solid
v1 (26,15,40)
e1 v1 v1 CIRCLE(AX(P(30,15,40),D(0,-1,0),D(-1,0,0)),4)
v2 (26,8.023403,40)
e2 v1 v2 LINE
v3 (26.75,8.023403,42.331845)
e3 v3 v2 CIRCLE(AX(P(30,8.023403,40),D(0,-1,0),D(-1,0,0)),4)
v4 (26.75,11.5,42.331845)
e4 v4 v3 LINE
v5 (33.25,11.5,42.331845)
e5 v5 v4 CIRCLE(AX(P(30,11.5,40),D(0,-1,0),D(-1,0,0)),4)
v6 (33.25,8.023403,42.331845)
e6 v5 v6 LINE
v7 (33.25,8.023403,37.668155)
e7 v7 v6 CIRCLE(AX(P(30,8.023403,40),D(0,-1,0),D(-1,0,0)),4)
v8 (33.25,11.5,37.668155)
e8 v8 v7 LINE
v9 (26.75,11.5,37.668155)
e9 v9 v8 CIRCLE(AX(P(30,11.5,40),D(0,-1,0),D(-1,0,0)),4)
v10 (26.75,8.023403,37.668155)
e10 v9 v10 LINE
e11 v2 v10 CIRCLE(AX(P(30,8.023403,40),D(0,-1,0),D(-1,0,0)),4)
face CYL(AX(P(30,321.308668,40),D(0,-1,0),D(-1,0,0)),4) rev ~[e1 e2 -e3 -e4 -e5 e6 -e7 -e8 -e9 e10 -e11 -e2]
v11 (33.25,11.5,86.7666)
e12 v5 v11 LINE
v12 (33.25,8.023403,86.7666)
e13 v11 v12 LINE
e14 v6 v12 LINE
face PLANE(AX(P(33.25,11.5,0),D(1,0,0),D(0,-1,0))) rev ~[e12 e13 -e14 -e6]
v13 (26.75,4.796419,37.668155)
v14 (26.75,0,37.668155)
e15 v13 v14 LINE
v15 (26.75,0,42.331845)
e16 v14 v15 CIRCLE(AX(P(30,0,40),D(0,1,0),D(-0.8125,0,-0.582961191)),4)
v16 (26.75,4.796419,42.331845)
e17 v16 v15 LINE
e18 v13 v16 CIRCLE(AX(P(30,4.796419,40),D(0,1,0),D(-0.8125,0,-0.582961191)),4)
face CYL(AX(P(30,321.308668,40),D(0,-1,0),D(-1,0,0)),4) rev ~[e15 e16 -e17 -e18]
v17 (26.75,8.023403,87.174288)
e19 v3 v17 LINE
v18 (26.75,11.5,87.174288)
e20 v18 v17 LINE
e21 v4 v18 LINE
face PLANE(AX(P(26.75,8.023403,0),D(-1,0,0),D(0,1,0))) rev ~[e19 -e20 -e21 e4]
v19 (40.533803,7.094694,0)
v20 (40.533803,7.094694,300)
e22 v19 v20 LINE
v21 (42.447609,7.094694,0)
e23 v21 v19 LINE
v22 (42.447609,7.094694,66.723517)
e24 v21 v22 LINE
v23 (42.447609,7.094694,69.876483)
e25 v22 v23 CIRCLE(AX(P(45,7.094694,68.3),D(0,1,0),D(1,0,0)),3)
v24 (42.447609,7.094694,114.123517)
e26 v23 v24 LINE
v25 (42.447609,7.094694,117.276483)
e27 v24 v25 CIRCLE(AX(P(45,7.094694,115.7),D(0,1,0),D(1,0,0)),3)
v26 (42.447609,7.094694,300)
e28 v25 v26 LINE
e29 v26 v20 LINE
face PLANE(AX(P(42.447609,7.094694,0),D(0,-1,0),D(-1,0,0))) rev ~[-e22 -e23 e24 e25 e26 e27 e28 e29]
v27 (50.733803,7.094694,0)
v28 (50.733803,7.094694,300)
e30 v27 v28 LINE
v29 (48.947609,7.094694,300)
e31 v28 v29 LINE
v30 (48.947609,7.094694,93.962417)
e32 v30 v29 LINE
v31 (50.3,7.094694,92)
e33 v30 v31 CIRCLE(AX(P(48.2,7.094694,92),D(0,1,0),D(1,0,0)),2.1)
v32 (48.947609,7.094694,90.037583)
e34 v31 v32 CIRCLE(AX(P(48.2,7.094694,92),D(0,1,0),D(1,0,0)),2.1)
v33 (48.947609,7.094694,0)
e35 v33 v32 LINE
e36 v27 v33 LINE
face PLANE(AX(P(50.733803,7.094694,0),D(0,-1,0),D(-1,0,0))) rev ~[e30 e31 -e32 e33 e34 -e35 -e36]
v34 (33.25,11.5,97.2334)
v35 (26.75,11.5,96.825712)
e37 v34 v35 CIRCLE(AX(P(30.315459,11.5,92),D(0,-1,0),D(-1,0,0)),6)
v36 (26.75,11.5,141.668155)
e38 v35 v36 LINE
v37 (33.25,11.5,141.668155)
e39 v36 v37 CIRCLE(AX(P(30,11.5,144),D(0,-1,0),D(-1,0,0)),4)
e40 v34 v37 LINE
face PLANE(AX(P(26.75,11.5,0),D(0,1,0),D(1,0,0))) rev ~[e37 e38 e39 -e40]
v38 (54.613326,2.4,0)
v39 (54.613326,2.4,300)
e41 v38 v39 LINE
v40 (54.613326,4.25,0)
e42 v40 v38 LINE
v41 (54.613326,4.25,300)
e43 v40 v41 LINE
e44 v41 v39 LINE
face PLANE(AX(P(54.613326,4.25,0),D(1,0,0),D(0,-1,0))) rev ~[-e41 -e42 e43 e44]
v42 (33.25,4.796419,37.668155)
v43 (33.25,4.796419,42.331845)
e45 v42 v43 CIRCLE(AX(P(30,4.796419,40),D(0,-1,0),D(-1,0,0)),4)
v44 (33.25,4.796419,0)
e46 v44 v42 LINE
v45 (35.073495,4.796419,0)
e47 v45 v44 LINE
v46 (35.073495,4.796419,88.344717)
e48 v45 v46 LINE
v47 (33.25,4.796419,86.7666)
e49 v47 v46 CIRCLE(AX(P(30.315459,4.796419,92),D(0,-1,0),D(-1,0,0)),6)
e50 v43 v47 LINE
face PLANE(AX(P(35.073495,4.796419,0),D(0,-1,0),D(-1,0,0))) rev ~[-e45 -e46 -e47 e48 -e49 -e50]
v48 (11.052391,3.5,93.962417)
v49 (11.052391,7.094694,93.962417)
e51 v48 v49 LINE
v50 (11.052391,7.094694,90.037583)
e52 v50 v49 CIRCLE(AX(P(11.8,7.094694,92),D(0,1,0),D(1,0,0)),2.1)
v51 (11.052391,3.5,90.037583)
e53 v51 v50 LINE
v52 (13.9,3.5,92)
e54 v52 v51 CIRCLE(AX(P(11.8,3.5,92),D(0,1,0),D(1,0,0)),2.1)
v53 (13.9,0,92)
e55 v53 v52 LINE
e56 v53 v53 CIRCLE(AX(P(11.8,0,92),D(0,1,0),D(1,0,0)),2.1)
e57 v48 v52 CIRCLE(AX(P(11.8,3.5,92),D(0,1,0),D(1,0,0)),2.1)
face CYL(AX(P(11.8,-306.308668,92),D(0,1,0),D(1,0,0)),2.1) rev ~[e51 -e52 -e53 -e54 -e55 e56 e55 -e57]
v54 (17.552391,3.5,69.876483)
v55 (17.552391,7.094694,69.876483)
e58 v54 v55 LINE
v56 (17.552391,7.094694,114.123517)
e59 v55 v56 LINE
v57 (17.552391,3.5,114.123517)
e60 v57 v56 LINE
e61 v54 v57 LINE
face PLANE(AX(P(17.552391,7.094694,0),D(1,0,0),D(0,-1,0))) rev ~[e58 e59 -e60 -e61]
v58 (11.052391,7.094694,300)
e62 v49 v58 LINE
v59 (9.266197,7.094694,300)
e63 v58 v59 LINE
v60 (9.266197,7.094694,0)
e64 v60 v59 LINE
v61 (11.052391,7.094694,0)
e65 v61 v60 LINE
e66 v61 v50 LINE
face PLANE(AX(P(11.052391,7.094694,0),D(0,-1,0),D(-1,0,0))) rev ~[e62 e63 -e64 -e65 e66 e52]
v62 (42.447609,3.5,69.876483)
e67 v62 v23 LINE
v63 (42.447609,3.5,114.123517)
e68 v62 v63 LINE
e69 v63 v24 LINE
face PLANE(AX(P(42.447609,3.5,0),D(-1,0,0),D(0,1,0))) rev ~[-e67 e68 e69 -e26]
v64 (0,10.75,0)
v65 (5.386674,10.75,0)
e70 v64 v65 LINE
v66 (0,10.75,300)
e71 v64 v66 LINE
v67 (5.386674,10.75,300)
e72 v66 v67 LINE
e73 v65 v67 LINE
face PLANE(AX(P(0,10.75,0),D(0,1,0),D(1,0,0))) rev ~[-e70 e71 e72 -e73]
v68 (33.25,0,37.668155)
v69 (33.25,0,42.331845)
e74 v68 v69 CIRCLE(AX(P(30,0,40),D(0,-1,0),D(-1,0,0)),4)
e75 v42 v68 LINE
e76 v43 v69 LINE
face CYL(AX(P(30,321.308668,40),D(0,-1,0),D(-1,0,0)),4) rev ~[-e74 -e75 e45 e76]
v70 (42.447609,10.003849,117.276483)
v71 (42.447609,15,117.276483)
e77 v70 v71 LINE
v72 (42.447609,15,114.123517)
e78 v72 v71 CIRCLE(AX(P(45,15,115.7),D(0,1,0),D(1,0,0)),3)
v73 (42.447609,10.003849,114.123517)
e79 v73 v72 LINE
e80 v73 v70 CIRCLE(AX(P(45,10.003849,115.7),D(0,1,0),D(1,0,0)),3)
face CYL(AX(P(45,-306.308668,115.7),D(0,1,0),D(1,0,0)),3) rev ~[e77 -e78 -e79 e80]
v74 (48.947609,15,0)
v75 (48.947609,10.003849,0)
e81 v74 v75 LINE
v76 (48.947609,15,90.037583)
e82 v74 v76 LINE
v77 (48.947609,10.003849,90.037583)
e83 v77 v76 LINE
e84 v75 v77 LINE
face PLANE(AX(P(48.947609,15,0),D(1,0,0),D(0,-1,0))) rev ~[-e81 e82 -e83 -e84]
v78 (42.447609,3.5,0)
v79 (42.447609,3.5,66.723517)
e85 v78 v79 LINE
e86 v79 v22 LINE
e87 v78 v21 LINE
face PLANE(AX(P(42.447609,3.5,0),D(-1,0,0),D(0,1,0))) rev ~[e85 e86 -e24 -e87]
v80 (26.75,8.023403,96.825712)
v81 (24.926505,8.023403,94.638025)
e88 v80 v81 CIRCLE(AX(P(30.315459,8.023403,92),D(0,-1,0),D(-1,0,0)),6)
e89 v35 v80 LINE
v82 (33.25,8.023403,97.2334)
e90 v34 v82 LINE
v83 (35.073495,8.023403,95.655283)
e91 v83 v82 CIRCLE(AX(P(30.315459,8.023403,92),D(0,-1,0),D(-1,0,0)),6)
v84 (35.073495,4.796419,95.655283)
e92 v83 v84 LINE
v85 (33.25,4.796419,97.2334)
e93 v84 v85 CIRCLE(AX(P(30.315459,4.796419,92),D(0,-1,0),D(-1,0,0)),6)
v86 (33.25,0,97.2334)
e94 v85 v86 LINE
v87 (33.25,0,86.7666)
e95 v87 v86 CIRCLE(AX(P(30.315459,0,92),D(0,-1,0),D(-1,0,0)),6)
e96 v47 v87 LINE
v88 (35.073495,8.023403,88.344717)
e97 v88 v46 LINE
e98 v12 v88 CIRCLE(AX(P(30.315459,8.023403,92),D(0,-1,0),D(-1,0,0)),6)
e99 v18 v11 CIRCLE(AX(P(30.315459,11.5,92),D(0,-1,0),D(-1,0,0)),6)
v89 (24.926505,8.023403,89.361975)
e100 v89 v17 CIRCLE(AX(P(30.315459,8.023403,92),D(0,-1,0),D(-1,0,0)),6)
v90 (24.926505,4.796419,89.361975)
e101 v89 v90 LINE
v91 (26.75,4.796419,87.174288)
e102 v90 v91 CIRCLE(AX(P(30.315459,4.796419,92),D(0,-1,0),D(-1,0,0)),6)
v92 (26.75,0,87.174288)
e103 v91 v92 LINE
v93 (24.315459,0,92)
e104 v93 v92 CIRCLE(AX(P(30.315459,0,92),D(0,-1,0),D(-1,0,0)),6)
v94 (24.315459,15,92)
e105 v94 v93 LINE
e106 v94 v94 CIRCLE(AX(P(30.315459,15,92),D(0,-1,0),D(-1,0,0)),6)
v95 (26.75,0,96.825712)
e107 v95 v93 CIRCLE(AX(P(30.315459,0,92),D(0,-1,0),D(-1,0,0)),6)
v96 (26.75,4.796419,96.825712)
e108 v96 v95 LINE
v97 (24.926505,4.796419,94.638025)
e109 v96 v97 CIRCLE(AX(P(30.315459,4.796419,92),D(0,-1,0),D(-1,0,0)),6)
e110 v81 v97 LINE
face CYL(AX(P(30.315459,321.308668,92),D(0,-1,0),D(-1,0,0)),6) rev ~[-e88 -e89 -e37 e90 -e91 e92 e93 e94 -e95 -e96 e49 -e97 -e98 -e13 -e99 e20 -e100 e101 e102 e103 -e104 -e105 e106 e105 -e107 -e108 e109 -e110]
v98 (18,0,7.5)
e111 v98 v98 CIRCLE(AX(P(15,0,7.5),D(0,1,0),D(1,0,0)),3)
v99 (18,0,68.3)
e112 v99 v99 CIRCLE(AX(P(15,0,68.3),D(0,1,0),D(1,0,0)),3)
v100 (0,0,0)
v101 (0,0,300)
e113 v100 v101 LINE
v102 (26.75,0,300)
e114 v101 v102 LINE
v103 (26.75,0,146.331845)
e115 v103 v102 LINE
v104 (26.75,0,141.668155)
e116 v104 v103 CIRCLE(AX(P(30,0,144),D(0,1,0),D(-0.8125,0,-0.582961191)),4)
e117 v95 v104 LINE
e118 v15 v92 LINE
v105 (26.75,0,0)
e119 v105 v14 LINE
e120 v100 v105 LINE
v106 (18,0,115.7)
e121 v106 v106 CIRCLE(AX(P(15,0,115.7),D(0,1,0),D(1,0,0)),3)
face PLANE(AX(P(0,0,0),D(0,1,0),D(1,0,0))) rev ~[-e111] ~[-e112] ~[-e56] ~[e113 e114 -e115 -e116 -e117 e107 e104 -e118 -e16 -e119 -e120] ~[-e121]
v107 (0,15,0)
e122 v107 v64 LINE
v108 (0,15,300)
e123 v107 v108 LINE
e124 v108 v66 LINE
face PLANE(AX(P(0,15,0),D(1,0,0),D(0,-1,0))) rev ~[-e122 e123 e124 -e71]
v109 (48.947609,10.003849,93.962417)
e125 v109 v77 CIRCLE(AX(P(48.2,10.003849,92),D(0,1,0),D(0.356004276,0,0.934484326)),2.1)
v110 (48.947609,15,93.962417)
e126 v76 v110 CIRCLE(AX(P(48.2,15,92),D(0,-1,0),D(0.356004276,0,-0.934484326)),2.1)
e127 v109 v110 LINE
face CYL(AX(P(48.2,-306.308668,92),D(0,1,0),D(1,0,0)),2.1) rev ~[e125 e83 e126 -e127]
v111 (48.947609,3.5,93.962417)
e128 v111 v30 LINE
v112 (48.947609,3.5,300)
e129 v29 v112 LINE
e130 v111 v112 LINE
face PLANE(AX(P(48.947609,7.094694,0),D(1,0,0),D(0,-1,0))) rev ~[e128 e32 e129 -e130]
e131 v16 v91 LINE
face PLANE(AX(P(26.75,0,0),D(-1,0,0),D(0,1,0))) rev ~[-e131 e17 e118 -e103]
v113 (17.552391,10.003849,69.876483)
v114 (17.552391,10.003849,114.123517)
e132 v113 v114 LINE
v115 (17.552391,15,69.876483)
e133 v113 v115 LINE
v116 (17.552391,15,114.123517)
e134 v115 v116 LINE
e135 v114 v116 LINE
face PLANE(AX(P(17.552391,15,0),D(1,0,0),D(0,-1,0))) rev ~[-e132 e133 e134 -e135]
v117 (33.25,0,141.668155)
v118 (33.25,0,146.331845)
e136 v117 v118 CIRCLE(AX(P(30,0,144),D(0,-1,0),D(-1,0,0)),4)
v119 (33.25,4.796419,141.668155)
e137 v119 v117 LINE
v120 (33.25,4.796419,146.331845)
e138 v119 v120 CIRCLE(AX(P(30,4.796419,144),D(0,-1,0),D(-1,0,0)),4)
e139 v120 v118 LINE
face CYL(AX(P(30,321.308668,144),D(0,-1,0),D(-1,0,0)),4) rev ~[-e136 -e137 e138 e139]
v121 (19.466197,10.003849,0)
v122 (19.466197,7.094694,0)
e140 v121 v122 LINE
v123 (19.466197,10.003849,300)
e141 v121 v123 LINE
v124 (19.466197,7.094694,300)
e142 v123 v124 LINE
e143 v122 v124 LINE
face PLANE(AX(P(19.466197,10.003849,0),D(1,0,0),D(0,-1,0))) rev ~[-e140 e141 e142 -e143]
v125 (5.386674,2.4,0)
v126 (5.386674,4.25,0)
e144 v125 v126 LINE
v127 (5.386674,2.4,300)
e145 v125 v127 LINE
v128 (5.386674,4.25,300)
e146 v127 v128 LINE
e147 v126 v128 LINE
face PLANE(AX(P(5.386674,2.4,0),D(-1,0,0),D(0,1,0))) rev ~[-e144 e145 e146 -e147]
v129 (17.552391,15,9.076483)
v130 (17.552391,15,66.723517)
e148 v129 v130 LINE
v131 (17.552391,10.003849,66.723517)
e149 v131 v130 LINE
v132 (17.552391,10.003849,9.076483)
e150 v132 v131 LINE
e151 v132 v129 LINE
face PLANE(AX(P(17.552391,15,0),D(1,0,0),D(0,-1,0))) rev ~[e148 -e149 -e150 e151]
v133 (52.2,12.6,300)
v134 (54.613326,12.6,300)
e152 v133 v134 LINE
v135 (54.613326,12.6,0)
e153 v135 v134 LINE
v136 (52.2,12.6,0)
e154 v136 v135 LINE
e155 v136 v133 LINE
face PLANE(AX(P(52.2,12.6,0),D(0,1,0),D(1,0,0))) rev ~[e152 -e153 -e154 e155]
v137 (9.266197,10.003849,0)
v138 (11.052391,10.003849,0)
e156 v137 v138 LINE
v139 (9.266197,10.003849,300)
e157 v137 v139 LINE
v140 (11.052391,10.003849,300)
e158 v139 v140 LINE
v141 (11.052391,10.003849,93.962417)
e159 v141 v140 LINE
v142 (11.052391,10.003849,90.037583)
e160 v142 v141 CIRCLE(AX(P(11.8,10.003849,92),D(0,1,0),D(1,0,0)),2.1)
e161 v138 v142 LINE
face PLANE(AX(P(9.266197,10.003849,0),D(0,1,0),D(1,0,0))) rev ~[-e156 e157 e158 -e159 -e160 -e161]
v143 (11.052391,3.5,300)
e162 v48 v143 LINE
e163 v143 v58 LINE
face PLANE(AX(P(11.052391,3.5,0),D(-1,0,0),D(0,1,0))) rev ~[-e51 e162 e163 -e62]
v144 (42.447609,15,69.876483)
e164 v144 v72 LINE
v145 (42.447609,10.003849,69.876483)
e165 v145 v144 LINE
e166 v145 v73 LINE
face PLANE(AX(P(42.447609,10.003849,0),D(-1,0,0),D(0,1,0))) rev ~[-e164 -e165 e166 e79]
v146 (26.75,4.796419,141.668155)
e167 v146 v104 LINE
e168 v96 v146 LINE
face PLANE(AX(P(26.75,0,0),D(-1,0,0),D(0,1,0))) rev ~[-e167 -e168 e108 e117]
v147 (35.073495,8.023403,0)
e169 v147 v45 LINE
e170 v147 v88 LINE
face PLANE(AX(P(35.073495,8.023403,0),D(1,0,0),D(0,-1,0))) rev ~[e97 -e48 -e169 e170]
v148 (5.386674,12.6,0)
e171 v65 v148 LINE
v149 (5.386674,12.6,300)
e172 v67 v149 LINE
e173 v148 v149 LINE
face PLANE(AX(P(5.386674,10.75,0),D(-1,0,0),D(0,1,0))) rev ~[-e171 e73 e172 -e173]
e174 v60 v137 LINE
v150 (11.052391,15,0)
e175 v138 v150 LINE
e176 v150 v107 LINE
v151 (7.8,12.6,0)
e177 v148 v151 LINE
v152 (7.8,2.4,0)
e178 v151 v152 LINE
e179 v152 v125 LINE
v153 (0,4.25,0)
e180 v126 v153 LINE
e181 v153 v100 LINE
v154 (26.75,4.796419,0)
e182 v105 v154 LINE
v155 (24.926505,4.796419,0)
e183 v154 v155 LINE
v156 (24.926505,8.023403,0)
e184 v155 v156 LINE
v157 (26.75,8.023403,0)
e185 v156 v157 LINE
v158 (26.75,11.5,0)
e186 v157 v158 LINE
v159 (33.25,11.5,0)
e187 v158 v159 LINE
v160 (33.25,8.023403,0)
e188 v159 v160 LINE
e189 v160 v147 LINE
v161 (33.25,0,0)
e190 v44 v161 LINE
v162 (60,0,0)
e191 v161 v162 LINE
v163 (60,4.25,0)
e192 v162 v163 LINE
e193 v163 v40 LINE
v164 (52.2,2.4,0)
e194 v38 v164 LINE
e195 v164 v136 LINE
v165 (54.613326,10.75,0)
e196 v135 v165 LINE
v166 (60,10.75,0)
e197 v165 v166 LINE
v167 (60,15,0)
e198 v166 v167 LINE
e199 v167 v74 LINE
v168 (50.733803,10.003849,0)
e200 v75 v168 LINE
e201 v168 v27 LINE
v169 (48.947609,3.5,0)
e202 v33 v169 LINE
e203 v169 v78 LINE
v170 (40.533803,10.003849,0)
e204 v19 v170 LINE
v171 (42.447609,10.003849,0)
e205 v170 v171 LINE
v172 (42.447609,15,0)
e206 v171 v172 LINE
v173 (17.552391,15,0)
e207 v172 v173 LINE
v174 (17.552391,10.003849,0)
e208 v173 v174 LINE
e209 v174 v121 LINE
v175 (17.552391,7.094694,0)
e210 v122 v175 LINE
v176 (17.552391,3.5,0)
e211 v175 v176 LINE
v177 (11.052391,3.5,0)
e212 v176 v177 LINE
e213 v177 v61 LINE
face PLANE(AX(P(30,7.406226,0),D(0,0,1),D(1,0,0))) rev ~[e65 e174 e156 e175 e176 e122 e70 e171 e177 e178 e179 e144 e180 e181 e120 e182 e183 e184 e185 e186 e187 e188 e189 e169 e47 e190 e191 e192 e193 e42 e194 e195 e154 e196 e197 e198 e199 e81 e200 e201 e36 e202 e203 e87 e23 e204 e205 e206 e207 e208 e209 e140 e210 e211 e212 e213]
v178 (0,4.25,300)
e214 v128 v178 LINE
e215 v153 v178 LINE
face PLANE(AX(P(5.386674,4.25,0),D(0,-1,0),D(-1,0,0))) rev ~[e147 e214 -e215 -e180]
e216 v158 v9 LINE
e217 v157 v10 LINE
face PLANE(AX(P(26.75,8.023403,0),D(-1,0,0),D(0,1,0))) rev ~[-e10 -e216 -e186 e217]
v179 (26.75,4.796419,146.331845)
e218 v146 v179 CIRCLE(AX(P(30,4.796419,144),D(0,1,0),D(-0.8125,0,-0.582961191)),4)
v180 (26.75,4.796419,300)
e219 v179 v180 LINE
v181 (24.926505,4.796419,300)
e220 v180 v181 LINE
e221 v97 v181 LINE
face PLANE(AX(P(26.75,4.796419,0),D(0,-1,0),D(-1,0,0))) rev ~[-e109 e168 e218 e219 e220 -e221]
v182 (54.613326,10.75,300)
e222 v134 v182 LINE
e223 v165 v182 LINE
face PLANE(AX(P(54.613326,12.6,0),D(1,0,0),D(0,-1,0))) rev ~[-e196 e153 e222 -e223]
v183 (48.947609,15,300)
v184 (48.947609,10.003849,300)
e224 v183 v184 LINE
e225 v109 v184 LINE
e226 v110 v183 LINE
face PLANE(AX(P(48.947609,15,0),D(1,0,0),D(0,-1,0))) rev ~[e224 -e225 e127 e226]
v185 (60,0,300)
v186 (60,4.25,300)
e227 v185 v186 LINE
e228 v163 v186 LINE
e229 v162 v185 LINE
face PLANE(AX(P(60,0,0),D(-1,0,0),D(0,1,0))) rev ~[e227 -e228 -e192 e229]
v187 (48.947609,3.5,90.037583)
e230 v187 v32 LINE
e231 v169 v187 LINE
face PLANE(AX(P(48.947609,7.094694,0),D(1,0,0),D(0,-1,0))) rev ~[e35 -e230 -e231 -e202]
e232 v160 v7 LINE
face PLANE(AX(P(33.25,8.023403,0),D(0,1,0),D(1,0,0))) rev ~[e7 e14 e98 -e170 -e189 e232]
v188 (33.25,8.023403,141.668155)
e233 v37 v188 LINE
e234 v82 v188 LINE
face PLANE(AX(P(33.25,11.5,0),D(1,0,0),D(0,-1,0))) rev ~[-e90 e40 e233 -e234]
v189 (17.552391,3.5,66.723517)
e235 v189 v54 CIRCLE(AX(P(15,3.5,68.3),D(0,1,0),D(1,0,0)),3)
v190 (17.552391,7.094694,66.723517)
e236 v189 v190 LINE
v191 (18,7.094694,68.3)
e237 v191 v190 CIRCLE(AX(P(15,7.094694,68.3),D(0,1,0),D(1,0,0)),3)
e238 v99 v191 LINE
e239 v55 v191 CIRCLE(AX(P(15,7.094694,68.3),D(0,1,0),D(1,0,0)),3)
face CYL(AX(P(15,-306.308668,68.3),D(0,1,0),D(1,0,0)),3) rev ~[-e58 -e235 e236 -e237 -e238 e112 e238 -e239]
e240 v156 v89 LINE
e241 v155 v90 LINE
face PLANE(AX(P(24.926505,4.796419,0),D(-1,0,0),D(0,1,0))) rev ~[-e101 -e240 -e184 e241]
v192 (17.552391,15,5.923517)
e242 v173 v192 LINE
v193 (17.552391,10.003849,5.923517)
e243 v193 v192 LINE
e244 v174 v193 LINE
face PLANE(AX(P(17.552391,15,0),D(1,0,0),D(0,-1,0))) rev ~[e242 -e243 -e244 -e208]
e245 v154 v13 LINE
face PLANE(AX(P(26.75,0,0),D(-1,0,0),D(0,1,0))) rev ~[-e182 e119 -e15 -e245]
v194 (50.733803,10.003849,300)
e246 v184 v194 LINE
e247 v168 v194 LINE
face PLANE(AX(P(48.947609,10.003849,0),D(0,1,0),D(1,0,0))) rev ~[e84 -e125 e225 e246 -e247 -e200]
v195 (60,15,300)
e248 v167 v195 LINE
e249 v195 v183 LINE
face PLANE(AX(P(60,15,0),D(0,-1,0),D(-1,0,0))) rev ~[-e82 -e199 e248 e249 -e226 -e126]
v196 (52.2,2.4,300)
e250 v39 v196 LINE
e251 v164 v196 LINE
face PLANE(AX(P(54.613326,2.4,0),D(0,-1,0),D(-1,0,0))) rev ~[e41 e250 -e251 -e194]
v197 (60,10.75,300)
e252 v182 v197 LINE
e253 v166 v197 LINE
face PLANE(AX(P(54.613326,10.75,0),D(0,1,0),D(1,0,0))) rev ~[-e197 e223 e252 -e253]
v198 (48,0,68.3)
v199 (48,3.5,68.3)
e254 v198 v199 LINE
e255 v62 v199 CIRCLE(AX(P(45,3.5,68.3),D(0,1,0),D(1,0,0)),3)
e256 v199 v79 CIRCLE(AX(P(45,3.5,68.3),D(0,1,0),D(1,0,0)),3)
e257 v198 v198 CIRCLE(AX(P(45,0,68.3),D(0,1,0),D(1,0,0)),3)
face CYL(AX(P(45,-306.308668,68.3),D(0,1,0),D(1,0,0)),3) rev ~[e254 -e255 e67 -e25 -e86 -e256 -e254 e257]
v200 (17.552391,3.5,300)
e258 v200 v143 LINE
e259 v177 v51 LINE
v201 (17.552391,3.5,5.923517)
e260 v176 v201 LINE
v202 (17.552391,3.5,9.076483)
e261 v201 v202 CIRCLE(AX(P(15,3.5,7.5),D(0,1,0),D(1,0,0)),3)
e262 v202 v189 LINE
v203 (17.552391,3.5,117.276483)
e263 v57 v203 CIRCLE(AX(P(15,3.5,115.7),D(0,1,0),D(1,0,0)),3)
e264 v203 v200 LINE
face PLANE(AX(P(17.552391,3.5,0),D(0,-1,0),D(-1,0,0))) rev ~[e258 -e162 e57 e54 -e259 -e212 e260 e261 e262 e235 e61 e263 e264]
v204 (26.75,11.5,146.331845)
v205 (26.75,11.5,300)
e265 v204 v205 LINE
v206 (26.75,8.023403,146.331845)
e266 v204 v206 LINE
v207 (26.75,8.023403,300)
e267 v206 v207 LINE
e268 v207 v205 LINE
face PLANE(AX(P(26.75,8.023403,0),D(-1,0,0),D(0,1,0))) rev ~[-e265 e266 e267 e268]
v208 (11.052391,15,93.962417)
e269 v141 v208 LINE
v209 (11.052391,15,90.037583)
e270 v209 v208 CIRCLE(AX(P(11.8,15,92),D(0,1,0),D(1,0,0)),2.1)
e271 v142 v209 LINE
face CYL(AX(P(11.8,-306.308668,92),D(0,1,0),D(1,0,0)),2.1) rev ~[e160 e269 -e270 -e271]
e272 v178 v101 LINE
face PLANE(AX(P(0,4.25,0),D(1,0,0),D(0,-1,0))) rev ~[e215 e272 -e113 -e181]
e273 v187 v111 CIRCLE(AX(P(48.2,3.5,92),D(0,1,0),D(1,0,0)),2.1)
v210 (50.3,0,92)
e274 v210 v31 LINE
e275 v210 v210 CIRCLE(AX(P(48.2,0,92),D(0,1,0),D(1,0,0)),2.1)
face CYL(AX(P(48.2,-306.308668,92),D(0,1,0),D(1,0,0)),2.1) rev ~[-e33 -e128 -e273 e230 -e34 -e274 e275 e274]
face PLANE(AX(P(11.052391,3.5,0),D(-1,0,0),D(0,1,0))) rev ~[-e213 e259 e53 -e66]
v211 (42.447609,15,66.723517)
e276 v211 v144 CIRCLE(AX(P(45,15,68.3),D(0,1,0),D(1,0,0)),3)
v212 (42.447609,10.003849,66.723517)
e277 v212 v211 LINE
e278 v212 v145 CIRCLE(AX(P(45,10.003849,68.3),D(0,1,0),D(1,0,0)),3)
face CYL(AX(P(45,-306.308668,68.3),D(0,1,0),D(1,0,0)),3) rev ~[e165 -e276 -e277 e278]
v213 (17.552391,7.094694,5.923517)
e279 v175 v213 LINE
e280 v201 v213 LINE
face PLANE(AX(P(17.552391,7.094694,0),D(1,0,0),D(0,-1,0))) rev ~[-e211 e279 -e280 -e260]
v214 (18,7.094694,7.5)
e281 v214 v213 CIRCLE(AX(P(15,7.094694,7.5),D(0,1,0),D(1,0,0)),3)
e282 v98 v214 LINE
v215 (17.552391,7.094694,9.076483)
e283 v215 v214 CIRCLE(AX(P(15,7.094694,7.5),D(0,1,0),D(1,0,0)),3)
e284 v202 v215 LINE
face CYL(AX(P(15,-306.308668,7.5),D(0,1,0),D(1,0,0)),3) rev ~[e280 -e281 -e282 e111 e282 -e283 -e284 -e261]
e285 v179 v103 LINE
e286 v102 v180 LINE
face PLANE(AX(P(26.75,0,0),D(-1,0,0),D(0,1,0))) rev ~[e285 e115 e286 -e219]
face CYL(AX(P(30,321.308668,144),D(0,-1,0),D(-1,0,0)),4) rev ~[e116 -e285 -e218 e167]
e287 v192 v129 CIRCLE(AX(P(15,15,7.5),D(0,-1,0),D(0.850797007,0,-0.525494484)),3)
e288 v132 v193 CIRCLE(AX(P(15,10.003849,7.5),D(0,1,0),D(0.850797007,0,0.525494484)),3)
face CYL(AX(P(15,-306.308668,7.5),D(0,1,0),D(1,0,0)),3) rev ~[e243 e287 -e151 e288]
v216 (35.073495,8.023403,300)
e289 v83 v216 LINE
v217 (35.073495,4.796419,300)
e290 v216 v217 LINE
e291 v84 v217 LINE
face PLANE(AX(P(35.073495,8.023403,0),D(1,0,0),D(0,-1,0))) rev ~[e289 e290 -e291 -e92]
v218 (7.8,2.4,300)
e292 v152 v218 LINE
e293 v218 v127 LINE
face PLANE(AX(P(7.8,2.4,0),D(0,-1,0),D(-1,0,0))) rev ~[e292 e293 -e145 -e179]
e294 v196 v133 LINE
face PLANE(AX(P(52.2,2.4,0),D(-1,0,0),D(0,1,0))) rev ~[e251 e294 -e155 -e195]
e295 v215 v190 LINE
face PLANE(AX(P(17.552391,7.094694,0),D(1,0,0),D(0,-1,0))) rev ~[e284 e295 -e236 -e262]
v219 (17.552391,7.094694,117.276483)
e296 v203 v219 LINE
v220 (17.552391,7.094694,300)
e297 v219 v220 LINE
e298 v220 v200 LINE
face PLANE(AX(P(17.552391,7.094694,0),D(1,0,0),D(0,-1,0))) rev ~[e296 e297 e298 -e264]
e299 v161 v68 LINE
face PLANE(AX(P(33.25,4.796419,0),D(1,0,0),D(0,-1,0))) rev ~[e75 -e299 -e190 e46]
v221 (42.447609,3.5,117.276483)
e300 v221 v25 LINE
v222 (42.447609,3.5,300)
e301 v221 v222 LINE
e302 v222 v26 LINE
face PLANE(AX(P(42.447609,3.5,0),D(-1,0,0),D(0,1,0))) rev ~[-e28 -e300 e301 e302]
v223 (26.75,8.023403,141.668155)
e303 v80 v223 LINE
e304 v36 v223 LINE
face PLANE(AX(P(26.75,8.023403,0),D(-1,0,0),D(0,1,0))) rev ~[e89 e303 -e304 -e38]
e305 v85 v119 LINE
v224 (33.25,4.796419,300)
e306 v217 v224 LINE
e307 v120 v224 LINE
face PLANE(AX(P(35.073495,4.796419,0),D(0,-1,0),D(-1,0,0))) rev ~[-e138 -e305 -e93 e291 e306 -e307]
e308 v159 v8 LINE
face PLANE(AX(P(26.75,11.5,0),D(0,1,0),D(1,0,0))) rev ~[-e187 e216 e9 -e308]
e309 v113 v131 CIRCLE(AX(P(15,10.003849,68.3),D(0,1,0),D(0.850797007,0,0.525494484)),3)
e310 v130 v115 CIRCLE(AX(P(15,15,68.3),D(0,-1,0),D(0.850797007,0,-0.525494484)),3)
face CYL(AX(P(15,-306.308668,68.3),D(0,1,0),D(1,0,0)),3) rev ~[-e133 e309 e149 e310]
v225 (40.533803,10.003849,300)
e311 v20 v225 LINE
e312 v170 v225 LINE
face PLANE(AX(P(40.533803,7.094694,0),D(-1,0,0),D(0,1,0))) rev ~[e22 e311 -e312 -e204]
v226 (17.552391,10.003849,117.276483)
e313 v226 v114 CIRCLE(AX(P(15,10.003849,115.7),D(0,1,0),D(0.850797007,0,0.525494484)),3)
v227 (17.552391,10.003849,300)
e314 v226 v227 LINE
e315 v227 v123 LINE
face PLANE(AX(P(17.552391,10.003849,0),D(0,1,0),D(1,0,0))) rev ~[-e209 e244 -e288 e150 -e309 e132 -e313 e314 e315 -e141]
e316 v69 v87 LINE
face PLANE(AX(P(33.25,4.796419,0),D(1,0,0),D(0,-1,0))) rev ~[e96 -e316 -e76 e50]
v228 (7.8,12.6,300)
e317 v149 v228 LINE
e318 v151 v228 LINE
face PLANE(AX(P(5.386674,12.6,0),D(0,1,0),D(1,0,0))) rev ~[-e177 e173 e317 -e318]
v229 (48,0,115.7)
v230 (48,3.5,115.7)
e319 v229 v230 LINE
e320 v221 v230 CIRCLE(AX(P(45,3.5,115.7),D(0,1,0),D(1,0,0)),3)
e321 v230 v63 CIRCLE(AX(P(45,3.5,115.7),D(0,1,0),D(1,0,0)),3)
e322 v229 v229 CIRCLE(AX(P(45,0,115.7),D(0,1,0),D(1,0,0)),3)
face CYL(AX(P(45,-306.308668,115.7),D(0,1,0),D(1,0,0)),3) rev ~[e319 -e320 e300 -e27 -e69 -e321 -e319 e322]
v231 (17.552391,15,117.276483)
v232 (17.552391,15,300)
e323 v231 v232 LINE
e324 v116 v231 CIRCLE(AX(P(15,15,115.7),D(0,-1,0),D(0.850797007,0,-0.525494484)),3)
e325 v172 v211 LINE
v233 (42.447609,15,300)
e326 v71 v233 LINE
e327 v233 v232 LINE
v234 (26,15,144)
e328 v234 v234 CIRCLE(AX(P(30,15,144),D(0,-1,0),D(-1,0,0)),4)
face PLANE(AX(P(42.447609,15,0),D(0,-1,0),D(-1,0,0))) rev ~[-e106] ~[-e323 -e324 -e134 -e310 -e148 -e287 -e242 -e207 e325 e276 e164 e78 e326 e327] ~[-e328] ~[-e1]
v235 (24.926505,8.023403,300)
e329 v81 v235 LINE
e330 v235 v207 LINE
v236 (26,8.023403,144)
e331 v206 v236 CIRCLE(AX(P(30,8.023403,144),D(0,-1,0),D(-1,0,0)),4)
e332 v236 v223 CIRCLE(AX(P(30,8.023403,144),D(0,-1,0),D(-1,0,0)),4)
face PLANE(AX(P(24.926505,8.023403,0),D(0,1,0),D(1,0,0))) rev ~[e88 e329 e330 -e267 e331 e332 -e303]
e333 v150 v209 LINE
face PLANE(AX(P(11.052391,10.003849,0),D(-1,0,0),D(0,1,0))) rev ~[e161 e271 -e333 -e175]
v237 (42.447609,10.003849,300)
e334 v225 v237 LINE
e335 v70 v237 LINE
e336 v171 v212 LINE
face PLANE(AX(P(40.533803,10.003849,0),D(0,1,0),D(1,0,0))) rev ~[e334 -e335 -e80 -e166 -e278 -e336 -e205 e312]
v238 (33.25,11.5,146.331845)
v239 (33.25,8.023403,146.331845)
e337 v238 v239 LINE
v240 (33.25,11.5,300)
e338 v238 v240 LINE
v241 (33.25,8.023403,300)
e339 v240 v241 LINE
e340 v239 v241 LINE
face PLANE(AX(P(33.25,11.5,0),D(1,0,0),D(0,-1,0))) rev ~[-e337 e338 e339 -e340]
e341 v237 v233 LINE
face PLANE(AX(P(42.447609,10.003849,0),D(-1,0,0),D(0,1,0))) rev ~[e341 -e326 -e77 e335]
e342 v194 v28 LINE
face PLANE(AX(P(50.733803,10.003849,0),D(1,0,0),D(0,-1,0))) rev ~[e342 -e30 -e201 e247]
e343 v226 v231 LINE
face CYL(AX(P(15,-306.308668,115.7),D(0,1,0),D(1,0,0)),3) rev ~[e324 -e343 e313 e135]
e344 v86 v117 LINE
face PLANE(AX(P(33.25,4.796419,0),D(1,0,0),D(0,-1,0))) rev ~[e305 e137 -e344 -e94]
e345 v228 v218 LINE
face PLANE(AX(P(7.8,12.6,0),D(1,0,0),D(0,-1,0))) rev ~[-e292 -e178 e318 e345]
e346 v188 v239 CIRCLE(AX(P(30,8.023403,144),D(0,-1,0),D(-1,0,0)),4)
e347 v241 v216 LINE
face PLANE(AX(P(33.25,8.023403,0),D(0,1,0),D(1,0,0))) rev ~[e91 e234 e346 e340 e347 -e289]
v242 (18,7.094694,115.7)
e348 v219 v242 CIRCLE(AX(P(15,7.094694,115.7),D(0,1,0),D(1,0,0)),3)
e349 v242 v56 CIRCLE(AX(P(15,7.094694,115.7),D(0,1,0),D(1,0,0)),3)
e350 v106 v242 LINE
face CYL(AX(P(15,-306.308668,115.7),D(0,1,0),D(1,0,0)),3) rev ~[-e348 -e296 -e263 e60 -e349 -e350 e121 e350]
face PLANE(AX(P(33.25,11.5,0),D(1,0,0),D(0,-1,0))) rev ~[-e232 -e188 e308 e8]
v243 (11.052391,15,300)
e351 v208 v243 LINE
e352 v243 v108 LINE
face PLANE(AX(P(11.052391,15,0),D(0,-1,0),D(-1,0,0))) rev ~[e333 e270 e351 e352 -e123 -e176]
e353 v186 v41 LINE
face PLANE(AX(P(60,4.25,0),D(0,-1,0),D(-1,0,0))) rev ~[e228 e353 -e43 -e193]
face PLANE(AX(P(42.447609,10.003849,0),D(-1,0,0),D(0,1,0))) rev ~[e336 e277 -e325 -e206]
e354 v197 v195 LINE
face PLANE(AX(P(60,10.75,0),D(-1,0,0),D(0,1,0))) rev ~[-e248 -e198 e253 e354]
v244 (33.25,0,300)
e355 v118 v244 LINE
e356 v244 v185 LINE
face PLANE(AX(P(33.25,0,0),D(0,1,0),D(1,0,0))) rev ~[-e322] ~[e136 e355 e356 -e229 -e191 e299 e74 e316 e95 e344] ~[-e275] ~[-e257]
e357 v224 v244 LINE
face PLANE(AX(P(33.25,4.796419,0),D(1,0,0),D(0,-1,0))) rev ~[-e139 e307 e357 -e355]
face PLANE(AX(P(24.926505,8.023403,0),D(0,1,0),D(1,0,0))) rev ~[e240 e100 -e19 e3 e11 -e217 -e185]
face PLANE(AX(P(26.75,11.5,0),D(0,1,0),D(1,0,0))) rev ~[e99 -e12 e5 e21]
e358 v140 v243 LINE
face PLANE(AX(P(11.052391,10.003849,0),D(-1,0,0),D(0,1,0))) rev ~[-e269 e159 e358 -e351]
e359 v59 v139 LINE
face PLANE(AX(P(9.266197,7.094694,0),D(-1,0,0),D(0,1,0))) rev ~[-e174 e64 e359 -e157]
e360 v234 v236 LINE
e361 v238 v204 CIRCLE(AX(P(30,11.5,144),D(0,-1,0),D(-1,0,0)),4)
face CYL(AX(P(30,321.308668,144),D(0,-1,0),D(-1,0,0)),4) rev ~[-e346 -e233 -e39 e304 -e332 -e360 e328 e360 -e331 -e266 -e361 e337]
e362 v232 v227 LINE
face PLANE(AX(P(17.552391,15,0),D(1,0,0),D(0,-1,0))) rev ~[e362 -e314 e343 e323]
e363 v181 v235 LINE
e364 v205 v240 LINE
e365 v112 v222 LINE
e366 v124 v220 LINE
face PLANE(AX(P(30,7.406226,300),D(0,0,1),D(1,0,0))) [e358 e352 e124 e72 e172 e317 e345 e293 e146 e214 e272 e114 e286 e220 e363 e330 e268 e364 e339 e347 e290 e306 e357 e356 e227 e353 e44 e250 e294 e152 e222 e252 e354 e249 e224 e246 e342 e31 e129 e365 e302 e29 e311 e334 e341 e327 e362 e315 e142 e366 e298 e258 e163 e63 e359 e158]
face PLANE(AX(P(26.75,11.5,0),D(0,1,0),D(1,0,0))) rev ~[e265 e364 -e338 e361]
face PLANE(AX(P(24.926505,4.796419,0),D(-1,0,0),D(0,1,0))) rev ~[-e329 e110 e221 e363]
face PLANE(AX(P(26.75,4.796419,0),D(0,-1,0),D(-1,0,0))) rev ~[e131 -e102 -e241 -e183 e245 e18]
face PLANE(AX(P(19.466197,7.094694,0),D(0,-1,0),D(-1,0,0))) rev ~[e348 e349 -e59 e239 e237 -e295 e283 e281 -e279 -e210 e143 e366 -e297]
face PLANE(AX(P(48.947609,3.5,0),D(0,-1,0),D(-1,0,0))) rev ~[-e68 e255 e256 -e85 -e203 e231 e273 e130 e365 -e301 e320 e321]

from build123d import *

# Parameters (mm, degrees)
EXTRUDE_1_DEPTH         = 300
HOLE_WIZARD_12_0_12_1_D = 12
HOLE_WIZARD_8_0_8_1_D   = 8
HOLE_WIZARD_6_0_6_2_D   = 6
HOLE_WIZARD_M5_1_D      = 4.2


with BuildPart() as part:
    # 草图1 → 凸台-拉伸1 (new body)
    with BuildSketch(Plane.XY):
        Polygon((0, 0), (26.75, 0), (26.75, 4.796419132), (24.926505169, 4.796419132), (24.926505169, 8.023402897), (26.75, 8.023402897), (26.75, 11.5), (30, 11.5), (33.25, 11.5), (33.25, 8.023402897), (35.073494831, 8.023402897), (35.073494831, 4.796419132), (33.25, 4.796419132), (33.25, 0), (60, 0), (60, 4.25), (54.613325713, 4.25), (54.613325713, 2.4), (52.2, 2.4), (52.2, 12.6), (54.613325713, 12.6), (54.613325713, 10.75), (60, 10.75), (60, 15), (48.947608979, 15), (48.947608979, 10.003848618), (50.733802833, 10.003848618), (50.733802833, 7.094693738), (48.947608979, 7.094693738), (48.947608979, 3.5), (42.447608979, 3.5), (42.447608979, 7.094693738), (40.533802833, 7.094693738), (40.533802833, 10.003848618), (42.447608979, 10.003848618), (42.447608979, 15), (30, 15), (17.552391021, 15), (17.552391021, 10.003848618), (19.466197167, 10.003848618), (19.466197167, 7.094693738), (17.552391021, 7.094693738), (17.552391021, 3.5), (11.052391021, 3.5), (11.052391021, 7.094693738), (9.266197167, 7.094693738), (9.266197167, 10.003848618), (11.052391021, 10.003848618), (11.052391021, 15), (0, 15), (0, 10.75), (5.386674287, 10.75), (5.386674287, 12.6), (7.8, 12.6), (7.8, 2.4), (5.386674287, 2.4), (5.386674287, 4.25), (0, 4.25), align=None)
    extrude(amount=EXTRUDE_1_DEPTH)

    # Ø12.0 (12) 直径孔1 (through all)
    with Locations(Plane(origin=(0, 15, 0), x_dir=(1, 0, 0), z_dir=(0, 1, 0))):
        with Locations((30.31545922, -92)):
            Hole(HOLE_WIZARD_12_0_12_1_D / 2)

    # Ø8.0 (8) 直径孔1 (through all)
    with Locations(Plane(origin=(0, 15, 0), x_dir=(1, 0, 0), z_dir=(0, 1, 0))):
        with Locations((30, -40), (30, -144)):
            Hole(HOLE_WIZARD_8_0_8_1_D / 2)

    # Ø6.0 (6) 直径孔2 (through all)
    with Locations(Plane(origin=(0, 0, 0), x_dir=(-1, 0, 0), z_dir=(0, -1, 0))):
        with Locations((-15, -7.5), (-15, -68.3), (-15, -115.7), (-45, -68.3), (-45, -115.7)):
            Hole(HOLE_WIZARD_6_0_6_2_D / 2)

    # M5 螺纹孔的螺纹孔钻头1 (through all)
    with Locations(Plane(origin=(0, 0, 0), x_dir=(-1, 0, 0), z_dir=(0, -1, 0))):
        with Locations((-48.2, -92), (-11.8, -92)):
            Hole(HOLE_WIZARD_M5_1_D / 2)


solid = part.part
